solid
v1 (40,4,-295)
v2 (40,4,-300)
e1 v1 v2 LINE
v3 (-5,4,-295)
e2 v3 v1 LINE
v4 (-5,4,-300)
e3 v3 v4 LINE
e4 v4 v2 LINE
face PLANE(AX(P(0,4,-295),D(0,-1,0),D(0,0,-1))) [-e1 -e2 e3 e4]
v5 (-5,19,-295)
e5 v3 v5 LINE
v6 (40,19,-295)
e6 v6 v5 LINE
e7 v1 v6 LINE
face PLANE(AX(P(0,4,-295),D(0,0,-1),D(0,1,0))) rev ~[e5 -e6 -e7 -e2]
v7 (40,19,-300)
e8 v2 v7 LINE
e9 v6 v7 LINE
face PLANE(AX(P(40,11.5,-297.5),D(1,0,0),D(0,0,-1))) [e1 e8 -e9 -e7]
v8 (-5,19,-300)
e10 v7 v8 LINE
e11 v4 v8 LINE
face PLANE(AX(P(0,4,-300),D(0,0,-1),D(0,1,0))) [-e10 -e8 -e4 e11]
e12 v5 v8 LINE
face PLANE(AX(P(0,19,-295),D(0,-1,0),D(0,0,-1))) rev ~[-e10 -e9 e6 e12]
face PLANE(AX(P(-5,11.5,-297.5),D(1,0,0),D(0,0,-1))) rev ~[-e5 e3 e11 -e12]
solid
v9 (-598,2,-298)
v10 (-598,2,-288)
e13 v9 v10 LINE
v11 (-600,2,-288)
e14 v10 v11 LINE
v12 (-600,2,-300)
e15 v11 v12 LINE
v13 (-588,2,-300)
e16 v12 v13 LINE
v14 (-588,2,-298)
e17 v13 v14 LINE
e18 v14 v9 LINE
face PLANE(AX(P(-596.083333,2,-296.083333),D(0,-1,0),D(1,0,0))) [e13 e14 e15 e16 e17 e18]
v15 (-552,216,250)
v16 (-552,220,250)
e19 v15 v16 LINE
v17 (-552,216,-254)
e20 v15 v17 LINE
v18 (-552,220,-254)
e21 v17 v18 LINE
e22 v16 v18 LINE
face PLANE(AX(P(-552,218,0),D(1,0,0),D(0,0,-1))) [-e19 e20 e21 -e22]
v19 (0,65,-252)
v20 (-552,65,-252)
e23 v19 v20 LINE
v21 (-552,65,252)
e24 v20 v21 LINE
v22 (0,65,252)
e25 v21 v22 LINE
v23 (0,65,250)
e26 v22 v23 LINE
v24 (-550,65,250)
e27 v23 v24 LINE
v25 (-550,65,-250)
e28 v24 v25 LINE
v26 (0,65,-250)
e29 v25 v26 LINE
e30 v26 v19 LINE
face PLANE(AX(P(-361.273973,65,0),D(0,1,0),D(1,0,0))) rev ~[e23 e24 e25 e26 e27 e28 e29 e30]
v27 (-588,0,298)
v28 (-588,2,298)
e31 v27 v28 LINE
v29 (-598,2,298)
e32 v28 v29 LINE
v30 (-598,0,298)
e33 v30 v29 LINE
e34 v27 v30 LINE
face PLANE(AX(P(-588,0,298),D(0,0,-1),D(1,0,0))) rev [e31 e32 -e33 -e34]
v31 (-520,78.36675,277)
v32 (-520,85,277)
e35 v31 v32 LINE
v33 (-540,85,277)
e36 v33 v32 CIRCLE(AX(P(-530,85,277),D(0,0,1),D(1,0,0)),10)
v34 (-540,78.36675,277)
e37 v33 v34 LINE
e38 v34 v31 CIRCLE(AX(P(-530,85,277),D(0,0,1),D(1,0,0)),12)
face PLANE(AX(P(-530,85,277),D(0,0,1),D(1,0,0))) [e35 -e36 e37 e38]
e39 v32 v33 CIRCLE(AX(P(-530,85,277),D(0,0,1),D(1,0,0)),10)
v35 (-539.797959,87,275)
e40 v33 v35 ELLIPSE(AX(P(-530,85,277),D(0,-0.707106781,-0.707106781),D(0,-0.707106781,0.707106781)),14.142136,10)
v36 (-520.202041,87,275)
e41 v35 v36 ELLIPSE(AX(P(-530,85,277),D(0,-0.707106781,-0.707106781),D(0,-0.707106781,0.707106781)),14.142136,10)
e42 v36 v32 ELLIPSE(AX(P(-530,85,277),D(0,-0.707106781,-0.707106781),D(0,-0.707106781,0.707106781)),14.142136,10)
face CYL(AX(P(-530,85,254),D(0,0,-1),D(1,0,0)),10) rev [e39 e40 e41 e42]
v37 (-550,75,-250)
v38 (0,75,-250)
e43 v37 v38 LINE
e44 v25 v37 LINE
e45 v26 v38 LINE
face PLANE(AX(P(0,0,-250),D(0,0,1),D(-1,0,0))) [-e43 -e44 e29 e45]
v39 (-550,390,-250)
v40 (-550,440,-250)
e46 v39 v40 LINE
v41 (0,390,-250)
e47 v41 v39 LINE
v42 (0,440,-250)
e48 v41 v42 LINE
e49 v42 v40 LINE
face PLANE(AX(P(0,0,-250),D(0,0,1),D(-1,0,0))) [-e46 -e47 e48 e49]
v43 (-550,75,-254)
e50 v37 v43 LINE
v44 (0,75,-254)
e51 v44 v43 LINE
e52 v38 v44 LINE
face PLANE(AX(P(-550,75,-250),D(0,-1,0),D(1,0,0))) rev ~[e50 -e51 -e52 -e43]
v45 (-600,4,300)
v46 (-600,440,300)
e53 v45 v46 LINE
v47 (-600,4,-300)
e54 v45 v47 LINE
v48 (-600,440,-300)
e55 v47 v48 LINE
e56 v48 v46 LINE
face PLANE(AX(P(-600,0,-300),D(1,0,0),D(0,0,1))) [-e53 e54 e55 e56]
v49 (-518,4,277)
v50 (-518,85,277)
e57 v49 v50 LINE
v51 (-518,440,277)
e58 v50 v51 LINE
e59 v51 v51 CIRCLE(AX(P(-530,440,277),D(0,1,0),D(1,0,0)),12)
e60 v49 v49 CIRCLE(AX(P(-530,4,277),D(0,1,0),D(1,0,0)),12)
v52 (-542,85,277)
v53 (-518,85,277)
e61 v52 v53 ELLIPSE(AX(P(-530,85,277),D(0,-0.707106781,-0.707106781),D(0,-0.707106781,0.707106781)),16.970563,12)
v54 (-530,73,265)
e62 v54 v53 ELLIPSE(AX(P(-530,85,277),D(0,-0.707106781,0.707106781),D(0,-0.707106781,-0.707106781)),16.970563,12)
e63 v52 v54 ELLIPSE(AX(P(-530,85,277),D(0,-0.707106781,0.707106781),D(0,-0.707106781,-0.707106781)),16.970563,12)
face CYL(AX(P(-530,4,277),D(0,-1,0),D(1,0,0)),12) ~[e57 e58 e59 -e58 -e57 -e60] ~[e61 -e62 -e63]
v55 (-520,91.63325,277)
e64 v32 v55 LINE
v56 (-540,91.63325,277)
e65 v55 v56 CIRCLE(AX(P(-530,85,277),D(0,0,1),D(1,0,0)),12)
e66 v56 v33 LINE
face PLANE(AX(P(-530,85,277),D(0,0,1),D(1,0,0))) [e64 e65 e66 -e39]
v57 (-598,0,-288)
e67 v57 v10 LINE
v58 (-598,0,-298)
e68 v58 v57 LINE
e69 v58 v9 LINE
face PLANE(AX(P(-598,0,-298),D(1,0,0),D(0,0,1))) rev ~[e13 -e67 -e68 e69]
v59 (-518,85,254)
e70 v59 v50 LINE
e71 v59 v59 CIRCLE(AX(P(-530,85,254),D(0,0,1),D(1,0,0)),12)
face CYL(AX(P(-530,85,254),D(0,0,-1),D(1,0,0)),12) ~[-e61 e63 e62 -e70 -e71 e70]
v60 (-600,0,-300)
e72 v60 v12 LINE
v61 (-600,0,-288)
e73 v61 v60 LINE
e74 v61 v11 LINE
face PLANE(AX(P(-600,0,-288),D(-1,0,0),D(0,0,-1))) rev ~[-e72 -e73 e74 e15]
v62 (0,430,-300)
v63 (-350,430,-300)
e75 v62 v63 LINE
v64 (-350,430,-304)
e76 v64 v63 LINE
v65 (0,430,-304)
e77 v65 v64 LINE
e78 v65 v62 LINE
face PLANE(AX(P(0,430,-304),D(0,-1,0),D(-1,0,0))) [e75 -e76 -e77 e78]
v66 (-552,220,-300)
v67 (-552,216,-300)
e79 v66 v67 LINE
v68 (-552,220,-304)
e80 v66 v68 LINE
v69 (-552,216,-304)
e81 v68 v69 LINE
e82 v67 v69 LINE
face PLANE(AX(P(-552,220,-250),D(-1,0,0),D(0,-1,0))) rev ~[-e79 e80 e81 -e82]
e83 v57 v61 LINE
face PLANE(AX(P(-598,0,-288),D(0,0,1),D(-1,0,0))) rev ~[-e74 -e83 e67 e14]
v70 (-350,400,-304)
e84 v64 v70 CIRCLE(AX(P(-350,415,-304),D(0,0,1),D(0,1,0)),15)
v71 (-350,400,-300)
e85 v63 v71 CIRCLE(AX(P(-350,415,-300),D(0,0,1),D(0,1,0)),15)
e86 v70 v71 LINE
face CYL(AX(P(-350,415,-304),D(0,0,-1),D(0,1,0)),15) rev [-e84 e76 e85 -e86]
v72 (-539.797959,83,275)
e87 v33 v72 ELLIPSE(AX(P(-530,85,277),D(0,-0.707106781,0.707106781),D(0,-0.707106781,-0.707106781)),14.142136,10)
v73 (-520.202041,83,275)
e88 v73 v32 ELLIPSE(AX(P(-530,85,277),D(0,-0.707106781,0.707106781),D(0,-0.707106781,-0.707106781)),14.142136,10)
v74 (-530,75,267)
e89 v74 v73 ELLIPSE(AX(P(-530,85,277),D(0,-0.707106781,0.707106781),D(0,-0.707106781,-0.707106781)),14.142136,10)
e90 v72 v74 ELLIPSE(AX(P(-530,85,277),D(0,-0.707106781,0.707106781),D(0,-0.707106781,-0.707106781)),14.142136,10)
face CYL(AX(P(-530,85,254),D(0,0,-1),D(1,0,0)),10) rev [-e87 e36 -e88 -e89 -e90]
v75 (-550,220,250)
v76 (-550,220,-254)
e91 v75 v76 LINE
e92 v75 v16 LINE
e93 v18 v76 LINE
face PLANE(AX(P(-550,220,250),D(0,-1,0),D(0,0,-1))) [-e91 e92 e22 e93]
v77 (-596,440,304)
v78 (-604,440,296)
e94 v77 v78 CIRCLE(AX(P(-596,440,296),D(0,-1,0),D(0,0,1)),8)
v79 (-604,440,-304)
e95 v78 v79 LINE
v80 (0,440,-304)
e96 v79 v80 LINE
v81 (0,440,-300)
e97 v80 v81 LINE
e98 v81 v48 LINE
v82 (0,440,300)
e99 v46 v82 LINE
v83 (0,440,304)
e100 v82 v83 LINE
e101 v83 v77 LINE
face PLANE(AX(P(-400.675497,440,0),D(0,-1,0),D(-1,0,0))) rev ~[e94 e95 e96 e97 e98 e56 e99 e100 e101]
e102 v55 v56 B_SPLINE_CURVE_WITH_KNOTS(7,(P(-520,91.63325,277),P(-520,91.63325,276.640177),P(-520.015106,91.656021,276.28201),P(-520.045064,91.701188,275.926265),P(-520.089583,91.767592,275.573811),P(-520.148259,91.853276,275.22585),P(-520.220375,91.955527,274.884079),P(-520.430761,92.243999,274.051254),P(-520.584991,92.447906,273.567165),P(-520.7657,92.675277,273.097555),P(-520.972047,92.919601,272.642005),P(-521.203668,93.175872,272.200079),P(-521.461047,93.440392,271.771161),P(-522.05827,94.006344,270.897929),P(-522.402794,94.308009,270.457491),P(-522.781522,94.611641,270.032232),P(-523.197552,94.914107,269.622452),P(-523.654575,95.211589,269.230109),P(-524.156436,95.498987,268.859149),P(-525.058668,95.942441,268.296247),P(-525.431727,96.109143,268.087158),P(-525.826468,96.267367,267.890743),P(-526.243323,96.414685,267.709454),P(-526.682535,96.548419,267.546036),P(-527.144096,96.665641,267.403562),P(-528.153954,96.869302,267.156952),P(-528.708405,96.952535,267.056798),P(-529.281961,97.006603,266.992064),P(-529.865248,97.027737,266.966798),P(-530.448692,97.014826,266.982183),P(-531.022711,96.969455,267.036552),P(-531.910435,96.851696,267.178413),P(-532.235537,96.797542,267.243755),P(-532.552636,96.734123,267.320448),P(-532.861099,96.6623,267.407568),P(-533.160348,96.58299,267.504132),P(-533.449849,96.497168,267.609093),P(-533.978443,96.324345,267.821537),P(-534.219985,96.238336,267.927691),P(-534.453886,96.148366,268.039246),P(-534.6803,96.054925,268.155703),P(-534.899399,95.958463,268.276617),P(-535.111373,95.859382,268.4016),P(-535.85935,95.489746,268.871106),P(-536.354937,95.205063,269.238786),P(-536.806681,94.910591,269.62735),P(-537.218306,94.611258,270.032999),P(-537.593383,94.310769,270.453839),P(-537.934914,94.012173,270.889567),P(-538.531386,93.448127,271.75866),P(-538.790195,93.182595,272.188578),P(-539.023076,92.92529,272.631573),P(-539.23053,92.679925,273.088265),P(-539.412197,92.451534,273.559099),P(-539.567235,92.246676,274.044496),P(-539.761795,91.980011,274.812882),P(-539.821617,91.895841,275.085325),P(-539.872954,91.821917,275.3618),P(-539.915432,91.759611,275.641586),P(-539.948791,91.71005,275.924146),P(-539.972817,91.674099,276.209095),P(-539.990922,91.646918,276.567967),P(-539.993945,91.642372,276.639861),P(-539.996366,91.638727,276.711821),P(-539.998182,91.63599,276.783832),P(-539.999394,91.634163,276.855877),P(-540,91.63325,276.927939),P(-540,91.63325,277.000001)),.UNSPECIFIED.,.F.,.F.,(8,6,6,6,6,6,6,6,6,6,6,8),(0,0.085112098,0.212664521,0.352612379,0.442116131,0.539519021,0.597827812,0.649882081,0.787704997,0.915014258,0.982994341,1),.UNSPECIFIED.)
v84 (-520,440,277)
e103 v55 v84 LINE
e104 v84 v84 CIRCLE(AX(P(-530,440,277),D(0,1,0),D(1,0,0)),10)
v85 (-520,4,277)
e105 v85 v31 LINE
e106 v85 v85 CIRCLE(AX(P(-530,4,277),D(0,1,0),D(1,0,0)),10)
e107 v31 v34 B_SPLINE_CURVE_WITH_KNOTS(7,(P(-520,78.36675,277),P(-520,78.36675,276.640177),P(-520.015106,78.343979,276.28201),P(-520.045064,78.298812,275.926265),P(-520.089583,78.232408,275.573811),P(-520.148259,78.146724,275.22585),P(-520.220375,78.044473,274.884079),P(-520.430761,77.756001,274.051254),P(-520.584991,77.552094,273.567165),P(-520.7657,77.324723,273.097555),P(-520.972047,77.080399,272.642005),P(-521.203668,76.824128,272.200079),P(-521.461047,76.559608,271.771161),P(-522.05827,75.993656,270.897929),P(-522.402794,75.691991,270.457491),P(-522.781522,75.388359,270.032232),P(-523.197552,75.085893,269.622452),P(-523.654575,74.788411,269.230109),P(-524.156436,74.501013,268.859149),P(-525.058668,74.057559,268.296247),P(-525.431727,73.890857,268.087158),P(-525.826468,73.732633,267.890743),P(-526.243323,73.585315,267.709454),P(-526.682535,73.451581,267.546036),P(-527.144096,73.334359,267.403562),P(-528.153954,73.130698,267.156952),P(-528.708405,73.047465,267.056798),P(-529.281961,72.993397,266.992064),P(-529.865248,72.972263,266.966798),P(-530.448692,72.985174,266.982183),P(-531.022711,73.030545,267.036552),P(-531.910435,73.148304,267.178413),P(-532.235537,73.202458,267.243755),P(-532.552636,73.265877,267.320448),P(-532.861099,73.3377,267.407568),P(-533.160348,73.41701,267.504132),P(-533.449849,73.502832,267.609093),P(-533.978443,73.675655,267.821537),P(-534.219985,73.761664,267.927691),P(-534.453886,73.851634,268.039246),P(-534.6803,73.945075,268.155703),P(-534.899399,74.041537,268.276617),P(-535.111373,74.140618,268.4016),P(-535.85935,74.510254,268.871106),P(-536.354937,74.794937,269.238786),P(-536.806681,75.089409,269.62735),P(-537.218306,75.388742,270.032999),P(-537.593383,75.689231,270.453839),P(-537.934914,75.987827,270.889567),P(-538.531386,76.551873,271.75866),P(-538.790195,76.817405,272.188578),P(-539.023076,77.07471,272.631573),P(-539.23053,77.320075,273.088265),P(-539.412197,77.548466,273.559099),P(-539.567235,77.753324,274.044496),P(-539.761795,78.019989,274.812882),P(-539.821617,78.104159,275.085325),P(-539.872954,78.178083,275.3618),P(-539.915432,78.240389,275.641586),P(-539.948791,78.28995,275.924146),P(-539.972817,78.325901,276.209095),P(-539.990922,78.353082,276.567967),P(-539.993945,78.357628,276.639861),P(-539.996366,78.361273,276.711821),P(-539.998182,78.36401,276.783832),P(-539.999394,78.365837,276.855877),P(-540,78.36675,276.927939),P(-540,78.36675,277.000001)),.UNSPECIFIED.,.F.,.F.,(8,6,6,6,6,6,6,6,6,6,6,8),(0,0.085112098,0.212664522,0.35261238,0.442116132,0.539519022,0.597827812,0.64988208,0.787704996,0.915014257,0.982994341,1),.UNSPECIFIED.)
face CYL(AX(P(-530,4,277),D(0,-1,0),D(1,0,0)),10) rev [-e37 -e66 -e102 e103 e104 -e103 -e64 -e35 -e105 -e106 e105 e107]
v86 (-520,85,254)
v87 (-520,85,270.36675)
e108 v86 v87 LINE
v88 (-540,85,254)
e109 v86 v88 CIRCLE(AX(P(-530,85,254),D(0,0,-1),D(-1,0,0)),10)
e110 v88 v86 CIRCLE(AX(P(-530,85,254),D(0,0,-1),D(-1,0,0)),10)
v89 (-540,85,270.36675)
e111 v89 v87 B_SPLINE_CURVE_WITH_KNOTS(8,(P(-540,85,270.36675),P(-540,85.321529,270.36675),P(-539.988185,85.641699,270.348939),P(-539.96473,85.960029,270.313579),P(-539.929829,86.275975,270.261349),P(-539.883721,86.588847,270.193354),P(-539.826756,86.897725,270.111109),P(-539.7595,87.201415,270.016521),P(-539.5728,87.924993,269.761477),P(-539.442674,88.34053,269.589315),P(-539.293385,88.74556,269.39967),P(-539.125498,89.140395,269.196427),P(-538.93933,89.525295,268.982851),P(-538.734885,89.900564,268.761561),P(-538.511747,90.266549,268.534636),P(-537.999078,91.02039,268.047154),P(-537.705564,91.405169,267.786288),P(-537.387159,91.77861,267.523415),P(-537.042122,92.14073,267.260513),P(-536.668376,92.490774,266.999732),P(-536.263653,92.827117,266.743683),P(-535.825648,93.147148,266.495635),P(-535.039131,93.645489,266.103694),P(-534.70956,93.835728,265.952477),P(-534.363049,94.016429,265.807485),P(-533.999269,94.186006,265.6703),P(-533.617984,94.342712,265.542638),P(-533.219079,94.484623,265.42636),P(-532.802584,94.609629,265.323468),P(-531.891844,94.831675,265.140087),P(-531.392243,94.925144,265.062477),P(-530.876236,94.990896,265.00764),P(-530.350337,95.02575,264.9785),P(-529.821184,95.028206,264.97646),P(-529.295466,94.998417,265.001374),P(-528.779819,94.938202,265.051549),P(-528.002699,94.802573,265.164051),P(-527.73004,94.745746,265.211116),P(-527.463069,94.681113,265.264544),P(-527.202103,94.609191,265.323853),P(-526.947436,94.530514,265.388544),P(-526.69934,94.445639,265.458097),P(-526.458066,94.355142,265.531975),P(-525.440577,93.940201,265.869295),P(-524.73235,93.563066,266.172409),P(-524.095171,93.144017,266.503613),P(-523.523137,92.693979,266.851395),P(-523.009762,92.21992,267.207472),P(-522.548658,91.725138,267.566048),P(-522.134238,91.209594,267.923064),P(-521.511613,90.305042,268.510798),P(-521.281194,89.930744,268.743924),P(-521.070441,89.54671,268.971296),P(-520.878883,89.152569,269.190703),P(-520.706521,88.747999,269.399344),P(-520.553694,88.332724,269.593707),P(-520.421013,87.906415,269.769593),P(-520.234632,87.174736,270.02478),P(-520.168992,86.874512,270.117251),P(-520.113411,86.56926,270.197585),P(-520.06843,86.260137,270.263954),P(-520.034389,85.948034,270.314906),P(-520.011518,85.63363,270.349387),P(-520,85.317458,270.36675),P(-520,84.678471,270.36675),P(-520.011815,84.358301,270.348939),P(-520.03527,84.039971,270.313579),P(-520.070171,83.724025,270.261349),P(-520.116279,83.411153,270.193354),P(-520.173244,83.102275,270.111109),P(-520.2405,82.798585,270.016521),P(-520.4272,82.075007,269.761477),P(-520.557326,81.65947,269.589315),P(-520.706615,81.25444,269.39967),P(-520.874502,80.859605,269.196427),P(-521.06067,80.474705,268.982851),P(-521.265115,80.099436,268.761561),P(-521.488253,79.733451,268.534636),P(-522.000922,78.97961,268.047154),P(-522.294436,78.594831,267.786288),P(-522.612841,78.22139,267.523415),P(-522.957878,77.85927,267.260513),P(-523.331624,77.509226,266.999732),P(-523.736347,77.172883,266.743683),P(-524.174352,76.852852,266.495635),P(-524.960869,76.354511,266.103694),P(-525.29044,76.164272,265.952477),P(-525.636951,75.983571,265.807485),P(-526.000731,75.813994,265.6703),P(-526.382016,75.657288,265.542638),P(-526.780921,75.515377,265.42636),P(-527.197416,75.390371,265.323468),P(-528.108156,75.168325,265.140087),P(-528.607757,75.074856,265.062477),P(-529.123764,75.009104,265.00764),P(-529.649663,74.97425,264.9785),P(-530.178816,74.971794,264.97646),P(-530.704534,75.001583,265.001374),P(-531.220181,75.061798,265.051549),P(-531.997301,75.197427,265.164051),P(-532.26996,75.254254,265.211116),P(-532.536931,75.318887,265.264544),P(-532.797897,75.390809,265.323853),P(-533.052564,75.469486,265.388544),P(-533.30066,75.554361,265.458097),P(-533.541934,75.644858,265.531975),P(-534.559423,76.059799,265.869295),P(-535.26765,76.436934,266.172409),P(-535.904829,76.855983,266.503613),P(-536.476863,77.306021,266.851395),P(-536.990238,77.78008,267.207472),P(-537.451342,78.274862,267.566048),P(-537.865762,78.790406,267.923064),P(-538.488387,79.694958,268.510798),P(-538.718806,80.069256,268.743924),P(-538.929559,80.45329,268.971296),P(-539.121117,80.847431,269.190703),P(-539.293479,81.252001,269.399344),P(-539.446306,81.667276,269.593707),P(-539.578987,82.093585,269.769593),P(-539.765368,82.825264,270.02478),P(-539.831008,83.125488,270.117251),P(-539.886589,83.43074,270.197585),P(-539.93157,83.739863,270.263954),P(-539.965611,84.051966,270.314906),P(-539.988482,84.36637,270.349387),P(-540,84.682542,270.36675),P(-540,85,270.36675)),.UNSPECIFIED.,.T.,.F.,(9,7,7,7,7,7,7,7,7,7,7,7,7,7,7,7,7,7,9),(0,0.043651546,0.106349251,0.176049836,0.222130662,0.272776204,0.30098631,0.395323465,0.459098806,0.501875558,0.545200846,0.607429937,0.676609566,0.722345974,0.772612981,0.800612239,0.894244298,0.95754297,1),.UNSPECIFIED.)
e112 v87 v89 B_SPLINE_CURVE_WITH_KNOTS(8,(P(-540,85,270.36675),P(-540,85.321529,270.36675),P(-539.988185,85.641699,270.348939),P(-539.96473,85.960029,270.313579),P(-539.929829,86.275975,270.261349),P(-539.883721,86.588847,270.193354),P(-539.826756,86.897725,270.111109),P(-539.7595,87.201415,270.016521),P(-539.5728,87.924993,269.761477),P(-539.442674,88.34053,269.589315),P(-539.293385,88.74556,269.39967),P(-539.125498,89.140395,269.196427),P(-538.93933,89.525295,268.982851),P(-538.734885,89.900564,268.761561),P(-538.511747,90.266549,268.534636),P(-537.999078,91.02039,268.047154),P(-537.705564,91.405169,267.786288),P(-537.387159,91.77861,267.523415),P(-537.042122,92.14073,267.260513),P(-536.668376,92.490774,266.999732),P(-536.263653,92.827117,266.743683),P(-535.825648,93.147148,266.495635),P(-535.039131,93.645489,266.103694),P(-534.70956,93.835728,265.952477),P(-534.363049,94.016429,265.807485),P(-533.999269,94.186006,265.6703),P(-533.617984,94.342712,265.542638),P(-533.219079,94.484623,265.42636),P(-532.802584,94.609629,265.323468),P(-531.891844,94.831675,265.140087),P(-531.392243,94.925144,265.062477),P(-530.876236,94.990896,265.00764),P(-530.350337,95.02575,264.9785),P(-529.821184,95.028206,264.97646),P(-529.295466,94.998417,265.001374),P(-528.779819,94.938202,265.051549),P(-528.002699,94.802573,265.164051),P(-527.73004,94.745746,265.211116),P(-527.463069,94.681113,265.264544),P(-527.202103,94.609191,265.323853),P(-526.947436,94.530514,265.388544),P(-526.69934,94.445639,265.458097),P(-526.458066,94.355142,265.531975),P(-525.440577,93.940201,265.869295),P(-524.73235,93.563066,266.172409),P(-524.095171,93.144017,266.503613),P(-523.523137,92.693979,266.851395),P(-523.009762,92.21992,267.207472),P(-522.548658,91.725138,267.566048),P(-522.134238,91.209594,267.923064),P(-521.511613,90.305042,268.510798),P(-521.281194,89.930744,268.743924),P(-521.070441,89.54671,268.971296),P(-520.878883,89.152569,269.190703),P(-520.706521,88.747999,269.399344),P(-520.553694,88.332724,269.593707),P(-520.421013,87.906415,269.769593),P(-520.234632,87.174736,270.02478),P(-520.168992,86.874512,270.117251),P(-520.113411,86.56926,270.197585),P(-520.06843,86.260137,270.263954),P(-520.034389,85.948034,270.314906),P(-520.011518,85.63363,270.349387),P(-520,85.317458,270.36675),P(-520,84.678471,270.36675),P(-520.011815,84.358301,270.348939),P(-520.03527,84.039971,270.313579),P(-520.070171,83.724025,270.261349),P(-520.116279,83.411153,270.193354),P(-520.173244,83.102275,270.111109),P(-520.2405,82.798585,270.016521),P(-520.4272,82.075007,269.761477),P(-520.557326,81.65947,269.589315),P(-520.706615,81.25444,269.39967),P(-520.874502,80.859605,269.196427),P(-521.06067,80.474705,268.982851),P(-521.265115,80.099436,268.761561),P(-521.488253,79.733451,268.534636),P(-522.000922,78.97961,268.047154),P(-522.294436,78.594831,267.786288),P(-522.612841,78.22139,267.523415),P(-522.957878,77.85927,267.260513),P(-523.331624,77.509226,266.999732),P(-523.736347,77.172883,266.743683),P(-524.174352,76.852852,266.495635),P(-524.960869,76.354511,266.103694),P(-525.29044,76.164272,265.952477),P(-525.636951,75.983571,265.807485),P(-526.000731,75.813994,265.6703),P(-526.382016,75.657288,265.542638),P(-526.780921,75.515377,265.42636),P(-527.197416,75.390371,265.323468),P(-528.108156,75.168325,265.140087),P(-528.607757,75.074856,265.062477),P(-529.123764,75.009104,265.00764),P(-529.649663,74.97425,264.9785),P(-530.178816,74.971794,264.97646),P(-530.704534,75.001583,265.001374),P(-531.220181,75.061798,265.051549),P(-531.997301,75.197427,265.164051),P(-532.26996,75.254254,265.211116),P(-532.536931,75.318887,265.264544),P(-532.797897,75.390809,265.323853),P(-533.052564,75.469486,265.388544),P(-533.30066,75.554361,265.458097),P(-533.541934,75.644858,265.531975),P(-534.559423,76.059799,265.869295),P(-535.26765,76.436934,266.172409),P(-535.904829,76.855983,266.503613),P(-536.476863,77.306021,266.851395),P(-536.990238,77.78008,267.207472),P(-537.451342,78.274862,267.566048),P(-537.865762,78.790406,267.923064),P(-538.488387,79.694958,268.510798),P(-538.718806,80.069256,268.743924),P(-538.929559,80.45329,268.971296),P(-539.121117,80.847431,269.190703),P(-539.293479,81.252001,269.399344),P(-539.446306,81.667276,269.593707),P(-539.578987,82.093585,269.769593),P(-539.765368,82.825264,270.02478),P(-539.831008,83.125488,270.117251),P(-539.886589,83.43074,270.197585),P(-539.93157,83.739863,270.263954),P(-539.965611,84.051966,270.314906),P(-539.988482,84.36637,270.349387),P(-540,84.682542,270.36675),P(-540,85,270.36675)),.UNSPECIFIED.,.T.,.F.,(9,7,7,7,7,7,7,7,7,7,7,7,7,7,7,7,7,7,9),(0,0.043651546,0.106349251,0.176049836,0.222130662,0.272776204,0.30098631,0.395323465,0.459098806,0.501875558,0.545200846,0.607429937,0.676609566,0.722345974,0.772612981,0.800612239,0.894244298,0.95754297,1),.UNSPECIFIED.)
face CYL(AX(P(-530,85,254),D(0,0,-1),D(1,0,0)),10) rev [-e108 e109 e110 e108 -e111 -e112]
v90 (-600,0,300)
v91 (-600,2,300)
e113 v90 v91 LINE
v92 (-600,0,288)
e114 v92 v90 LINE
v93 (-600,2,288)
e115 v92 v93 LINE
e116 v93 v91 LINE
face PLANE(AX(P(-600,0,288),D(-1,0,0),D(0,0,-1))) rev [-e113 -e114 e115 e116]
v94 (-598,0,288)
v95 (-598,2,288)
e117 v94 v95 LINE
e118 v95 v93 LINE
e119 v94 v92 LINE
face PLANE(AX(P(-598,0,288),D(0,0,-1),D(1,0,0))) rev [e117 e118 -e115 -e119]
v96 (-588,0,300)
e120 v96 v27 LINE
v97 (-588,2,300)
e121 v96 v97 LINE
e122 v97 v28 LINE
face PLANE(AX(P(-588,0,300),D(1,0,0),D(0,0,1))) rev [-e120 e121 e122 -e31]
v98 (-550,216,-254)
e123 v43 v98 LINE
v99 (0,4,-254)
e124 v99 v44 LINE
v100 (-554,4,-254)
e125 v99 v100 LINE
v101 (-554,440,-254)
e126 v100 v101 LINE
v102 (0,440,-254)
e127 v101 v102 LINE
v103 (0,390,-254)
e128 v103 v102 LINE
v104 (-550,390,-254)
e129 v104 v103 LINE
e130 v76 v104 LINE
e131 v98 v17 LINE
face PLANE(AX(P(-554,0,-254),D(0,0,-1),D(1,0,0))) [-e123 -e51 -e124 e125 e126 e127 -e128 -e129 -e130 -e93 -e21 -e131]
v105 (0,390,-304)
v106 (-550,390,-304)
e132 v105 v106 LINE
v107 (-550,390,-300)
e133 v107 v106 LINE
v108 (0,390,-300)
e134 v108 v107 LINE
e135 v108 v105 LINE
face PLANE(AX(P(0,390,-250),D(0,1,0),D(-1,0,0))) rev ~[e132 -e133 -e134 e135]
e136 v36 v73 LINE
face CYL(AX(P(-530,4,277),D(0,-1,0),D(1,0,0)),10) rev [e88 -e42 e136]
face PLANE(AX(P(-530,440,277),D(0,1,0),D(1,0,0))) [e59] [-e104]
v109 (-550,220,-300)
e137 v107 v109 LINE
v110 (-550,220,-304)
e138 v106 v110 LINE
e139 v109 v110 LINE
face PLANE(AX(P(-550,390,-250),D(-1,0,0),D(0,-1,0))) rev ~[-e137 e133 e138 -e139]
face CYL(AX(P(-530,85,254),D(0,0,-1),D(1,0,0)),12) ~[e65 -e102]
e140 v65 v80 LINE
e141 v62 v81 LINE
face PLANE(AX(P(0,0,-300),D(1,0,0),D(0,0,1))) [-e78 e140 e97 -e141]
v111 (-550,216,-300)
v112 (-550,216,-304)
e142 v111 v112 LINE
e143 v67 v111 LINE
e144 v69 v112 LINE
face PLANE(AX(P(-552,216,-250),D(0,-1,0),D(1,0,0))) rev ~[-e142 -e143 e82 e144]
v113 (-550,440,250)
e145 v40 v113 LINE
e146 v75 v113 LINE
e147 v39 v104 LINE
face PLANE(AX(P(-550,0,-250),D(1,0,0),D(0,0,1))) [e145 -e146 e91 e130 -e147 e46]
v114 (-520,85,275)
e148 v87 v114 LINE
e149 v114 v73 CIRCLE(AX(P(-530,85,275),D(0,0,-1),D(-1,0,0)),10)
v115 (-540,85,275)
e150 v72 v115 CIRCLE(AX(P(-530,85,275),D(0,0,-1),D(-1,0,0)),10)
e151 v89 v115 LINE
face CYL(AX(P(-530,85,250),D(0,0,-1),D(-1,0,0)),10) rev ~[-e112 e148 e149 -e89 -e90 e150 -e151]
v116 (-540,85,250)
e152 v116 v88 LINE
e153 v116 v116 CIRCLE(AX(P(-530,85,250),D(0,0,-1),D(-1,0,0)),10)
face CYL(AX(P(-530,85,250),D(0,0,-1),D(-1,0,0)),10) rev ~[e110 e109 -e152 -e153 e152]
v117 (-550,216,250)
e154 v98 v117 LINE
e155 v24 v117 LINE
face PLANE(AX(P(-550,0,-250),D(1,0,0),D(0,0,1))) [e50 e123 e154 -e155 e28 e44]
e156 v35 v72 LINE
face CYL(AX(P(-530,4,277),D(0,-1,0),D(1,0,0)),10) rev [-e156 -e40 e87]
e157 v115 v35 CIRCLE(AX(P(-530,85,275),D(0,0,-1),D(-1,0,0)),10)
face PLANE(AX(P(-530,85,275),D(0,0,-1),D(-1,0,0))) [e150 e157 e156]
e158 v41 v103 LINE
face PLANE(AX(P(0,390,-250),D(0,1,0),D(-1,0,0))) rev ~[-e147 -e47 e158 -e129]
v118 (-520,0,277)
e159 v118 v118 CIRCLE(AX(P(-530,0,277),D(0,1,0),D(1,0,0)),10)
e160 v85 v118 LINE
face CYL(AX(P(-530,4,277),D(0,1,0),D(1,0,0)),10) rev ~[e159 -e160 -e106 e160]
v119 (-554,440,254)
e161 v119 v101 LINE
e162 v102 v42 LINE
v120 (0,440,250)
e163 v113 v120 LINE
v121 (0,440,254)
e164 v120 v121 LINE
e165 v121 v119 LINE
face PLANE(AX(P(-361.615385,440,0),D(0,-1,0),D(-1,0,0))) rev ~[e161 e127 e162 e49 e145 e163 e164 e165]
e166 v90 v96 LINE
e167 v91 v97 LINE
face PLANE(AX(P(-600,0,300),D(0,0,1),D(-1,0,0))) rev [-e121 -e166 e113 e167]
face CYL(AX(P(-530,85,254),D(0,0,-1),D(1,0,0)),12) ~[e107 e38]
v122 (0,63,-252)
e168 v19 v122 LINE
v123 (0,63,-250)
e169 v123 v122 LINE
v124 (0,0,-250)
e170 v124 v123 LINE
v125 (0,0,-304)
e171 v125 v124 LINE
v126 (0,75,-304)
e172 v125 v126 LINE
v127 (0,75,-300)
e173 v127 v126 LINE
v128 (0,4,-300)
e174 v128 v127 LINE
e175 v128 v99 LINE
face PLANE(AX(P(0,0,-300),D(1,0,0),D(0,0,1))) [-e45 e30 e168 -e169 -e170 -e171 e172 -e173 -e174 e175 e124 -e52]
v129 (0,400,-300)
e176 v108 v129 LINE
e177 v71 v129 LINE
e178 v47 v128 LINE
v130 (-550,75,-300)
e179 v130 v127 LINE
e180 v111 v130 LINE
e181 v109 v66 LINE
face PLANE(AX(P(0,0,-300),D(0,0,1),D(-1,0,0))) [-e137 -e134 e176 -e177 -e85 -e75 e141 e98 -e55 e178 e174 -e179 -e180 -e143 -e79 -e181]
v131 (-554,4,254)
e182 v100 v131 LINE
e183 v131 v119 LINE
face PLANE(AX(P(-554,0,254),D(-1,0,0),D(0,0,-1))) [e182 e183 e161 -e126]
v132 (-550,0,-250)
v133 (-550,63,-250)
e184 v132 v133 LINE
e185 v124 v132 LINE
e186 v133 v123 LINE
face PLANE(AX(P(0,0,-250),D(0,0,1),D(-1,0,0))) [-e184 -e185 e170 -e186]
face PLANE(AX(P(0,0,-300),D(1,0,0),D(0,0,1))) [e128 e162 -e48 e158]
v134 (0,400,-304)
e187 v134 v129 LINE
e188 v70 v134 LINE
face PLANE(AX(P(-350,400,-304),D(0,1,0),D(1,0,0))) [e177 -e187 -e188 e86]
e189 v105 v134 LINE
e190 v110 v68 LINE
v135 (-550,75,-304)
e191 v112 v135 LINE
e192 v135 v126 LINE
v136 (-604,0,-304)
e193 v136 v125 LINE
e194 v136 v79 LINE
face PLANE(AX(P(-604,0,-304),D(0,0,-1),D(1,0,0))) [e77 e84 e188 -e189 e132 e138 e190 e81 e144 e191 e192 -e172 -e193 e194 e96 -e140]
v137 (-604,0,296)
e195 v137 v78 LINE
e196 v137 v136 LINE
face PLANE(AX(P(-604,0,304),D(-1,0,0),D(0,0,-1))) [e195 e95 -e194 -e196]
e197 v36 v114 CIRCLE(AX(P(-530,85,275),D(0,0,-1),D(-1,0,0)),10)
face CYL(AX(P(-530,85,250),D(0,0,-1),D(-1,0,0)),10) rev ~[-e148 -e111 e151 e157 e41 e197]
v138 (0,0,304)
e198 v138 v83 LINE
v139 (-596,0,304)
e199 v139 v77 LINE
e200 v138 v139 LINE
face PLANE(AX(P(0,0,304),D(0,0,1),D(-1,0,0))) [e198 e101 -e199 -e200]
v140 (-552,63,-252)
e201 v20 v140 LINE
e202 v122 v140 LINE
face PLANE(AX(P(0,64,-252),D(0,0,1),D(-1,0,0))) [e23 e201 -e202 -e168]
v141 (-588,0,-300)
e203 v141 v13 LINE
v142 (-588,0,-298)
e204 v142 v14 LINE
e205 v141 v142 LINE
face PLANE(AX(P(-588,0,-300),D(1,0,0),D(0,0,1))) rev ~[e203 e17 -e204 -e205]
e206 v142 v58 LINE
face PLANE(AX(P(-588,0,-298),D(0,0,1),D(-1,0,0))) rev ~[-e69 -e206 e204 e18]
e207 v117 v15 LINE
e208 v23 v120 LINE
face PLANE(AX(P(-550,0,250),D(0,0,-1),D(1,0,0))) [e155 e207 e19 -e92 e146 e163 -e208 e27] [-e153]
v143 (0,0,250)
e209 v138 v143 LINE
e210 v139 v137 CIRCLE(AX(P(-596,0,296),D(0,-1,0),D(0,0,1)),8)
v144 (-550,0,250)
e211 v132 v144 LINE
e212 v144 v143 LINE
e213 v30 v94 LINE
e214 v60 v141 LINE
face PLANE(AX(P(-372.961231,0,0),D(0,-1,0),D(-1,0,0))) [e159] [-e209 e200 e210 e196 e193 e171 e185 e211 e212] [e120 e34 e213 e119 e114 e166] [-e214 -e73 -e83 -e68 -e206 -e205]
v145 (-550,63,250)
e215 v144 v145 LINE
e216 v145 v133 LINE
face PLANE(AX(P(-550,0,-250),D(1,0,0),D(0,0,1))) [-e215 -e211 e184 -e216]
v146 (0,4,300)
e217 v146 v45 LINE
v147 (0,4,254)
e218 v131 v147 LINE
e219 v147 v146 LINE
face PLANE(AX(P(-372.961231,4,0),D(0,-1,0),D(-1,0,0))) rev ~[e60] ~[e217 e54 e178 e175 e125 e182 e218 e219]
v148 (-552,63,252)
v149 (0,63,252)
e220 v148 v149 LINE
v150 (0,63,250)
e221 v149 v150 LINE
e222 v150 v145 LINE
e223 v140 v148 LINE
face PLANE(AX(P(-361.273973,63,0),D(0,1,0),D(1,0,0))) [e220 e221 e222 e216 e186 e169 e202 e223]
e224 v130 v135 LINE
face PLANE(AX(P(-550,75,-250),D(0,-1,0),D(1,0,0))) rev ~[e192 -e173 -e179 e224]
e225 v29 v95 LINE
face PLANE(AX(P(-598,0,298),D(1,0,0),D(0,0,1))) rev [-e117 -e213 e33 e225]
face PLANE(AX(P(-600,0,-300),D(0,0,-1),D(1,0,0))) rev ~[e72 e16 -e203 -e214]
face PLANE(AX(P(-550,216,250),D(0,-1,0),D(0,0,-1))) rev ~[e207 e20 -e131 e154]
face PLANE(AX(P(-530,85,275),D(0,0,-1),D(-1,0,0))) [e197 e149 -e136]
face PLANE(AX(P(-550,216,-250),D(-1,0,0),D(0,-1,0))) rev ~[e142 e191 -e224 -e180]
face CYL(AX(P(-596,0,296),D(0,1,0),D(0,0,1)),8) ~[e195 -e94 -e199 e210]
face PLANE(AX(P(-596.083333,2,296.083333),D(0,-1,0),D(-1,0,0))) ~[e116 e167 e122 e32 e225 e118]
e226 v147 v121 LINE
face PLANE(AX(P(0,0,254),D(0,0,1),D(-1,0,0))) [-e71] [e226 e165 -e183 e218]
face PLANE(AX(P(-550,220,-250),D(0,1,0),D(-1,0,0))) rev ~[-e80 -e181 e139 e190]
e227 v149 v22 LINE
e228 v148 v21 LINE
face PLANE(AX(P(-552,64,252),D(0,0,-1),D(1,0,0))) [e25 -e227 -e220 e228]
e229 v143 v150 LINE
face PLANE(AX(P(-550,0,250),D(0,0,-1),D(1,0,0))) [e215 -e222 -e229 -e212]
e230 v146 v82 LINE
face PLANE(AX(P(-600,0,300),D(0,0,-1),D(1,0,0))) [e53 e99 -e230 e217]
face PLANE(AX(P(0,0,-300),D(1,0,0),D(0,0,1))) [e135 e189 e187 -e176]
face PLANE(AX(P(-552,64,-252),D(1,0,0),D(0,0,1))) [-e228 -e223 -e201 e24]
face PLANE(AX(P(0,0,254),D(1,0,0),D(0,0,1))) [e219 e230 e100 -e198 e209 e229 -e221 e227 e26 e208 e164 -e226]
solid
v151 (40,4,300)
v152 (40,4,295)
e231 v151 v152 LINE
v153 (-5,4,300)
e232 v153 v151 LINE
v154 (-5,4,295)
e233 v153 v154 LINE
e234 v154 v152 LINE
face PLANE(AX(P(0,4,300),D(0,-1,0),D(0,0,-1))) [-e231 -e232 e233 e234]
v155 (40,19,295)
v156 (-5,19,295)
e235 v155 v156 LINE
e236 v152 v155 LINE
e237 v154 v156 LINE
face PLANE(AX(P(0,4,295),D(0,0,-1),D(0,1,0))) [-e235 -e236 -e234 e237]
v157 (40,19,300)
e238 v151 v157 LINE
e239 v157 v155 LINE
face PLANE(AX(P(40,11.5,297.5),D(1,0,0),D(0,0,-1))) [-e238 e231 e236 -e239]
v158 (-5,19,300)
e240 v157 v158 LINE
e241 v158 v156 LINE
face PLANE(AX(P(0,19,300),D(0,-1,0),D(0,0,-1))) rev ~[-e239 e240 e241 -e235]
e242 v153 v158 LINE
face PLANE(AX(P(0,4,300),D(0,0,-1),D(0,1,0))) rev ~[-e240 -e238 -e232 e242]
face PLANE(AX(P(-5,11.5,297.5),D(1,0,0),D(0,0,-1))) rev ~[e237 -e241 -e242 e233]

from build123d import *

# Parameters (mm, degrees)
BOSS_EXTRUDE1_DEPTH      = 440
BOSS_EXTRUDE2_DEPTH      = 440
BOSS_EXTRUDE3_DEPTH      = 4
SKETCH4_W                = 500
SKETCH4_H                = 4
CUT_EXTRUDE1_DEPTH       = 2
CUT_EXTRUDE3_DEPTH       = 1
CUT_EXTRUDE3_DEPTH_BACK  = 1
SKETCH12_W               = 5
SKETCH12_H               = 15
BOSS_EXTRUDE4_DEPTH      = 40
BOSS_EXTRUDE4_DEPTH_BACK = 5
SKETCH11_W               = 5
SKETCH11_H               = 15
BOSS_EXTRUDE5_DEPTH      = 40
BOSS_EXTRUDE5_DEPTH_BACK = 5
CUT_EXTRUDE5_START       = -54
CUT_EXTRUDE5_DEPTH       = 54
CUT_EXTRUDE6_DEPTH       = 4
FILLET1_R                = 8
CUT_EXTRUDE7_DEPTH       = 2
SKETCH17_R               = 10
CUT_EXTRUDE8_DEPTH       = 10
SKETCH18_R               = 12
SKETCH18_R_2             = 10
BOSS_EXTRUDE6_DEPTH      = 436
SKETCH19_R               = 10
CUT_EXTRUDE9_DEPTH       = 25
SKETCH20_R               = 12
SKETCH20_R_2             = 10
BOSS_EXTRUDE7_DEPTH      = 23


with BuildPart() as part:
    # Sketch1 → Boss-Extrude1 (new body)
    with BuildSketch(Plane(origin=(0, 0, 0), x_dir=(1, 0, 0), z_dir=(0, 1, 0))):
        Polygon((0, 300), (-600, 300), (-600, -300), (0, -300), (0, -304), (-604, -304), (-604, 304), (0, 304), align=None)
    extrude(amount=BOSS_EXTRUDE1_DEPTH)



with BuildPart() as body_2:
    # Sketch2 → Boss-Extrude2 (new body)
    with BuildSketch(Plane(origin=(0, 0, 0), x_dir=(1, 0, 0), z_dir=(0, 1, 0))):
        Polygon((0, 250), (-550, 250), (-550, -250), (0, -250), (0, -254), (-554, -254), (-554, 254), (0, 254), align=None)
    extrude(amount=BOSS_EXTRUDE2_DEPTH)


with BuildPart() as part_1:
    add(part.part)

    add(body_2.part)  # Boss-Extrude3 merges body 2
    # Sketch3 → Boss-Extrude3 (add)
    with BuildSketch(Plane(origin=(0, 0, 0), x_dir=(1, 0, 0), z_dir=(0, 1, 0))):
        Polygon((0, -254), (0, -300), (-600, -300), (-600, 300), (0, 300), (0, 254), (-554, 254), (-554, -254), align=None)
    extrude(amount=BOSS_EXTRUDE3_DEPTH)

    # Sketch4 → Cut-Extrude1 (cut)
    with BuildSketch(Plane(origin=(-550, 0, 0), x_dir=(0, 0, -1), z_dir=(1, 0, 0))):
        with Locations((0, 218)):
            Rectangle(SKETCH4_W, SKETCH4_H)
    extrude(amount=-CUT_EXTRUDE1_DEPTH, mode=Mode.SUBTRACT)

    # Sketch7 → Cut-Extrude3 (cut, two sides)
    with BuildSketch(Plane(origin=(0, 64, 0), x_dir=(1, 0, 0), z_dir=(0, 1, 0))) as cut_extrude3_sk:
        Polygon((-550, 250), (0, 250), (0, 252), (-552, 252), (-552, -252), (0, -252), (0, -250), (-550, -250), align=None)
    extrude(amount=CUT_EXTRUDE3_DEPTH, mode=Mode.SUBTRACT)
    extrude(cut_extrude3_sk.sketch, amount=-CUT_EXTRUDE3_DEPTH_BACK, mode=Mode.SUBTRACT)

    # Sketch13 → Cut-Extrude5 (cut)
    with BuildSketch(Plane(origin=(0, 0, -304), x_dir=(-1, 0, 0), z_dir=(0, 0, -1)).offset(CUT_EXTRUDE5_START)):
        Polygon((0, 390), (550, 390), (550, 220), (552, 220), (552, 216), (550, 216), (550, 75), (0, 75), align=None)
    extrude(amount=CUT_EXTRUDE5_DEPTH, mode=Mode.SUBTRACT)

    # Sketch14 → Cut-Extrude6 (cut)
    with BuildSketch(Plane(origin=(0, 0, -304), x_dir=(-1, 0, 0), z_dir=(0, 0, -1))):
        with BuildLine():
            Line((0, 400), (0, 430))
            Line((0, 430), (350, 430))
            ThreePointArc((350, 430), (365, 415), (350, 400))
            Line((350, 400), (0, 400))
        make_face()
    extrude(amount=-CUT_EXTRUDE6_DEPTH, mode=Mode.SUBTRACT)

    # Fillet1
    fillet1_edges = [part_1.edges().sort_by_distance(p)[0] for p in [
        (-604, 220, 304),
    ]]
    fillet(fillet1_edges, radius=FILLET1_R)

    # Sketch15 → Cut-Extrude7 (cut)
    with BuildSketch(Plane.XZ):
        Polygon((-600, -300), (-588, -300), (-588, -298), (-598, -298), (-598, -288), (-600, -288), align=None)
    cut_extrude7 = extrude(amount=-CUT_EXTRUDE7_DEPTH, mode=Mode.SUBTRACT)

    # Mirror1: Cut-Extrude7 across plane
    add(cut_extrude7.mirror(Plane.XY), mode=Mode.SUBTRACT)

    # Sketch17 → Cut-Extrude8 (cut)
    with BuildSketch(Plane(origin=(0, 4, 0), x_dir=(1, 0, 0), z_dir=(0, 1, 0))):
        with Locations((-530, -277)):
            Circle(SKETCH17_R)
    extrude(amount=-CUT_EXTRUDE8_DEPTH, mode=Mode.SUBTRACT)

    # Sketch18 → Boss-Extrude6 (add)
    with BuildSketch(Plane(origin=(0, 4, 0), x_dir=(1, 0, 0), z_dir=(0, 1, 0))):
        with Locations((-530, -277)):
            Circle(SKETCH18_R)
        with Locations((-530, -277)):
            Circle(SKETCH18_R_2, mode=Mode.SUBTRACT)
    extrude(amount=BOSS_EXTRUDE6_DEPTH)

    # Sketch19 → Cut-Extrude9 (cut)
    with BuildSketch(Plane(origin=(0, 0, 250), x_dir=(-1, 0, 0), z_dir=(0, 0, -1))):
        with Locations((530, 85)):
            Circle(SKETCH19_R)
    extrude(amount=-CUT_EXTRUDE9_DEPTH, mode=Mode.SUBTRACT)

    # Sketch20 → Boss-Extrude7 (add)
    with BuildSketch(Plane.XY.offset(254)):
        with Locations((-530, 85)):
            Circle(SKETCH20_R)
        with Locations((-530, 85)):
            Circle(SKETCH20_R_2, mode=Mode.SUBTRACT)
    extrude(amount=BOSS_EXTRUDE7_DEPTH)


with BuildPart() as body_2_2:
    # Sketch12 → Boss-Extrude4 (new body, two sides)
    with BuildSketch(Plane(origin=(0, 0, 0), x_dir=(0, 0, -1), z_dir=(1, 0, 0))) as boss_extrude4_sk:
        with Locations((297.5, 11.5)):
            Rectangle(SKETCH12_W, SKETCH12_H)
    extrude(amount=BOSS_EXTRUDE4_DEPTH)
    extrude(boss_extrude4_sk.sketch, amount=-BOSS_EXTRUDE4_DEPTH_BACK)


with BuildPart() as body_3:
    # Sketch11 → Boss-Extrude5 (new body, two sides)
    with BuildSketch(Plane(origin=(0, 0, 0), x_dir=(0, 0, -1), z_dir=(1, 0, 0))) as boss_extrude5_sk:
        with Locations((-297.5, 11.5)):
            Rectangle(SKETCH11_W, SKETCH11_H)
    extrude(amount=BOSS_EXTRUDE5_DEPTH)
    extrude(boss_extrude5_sk.sketch, amount=-BOSS_EXTRUDE5_DEPTH_BACK)


solid = Compound([part_1.part, body_2_2.part, body_3.part])
